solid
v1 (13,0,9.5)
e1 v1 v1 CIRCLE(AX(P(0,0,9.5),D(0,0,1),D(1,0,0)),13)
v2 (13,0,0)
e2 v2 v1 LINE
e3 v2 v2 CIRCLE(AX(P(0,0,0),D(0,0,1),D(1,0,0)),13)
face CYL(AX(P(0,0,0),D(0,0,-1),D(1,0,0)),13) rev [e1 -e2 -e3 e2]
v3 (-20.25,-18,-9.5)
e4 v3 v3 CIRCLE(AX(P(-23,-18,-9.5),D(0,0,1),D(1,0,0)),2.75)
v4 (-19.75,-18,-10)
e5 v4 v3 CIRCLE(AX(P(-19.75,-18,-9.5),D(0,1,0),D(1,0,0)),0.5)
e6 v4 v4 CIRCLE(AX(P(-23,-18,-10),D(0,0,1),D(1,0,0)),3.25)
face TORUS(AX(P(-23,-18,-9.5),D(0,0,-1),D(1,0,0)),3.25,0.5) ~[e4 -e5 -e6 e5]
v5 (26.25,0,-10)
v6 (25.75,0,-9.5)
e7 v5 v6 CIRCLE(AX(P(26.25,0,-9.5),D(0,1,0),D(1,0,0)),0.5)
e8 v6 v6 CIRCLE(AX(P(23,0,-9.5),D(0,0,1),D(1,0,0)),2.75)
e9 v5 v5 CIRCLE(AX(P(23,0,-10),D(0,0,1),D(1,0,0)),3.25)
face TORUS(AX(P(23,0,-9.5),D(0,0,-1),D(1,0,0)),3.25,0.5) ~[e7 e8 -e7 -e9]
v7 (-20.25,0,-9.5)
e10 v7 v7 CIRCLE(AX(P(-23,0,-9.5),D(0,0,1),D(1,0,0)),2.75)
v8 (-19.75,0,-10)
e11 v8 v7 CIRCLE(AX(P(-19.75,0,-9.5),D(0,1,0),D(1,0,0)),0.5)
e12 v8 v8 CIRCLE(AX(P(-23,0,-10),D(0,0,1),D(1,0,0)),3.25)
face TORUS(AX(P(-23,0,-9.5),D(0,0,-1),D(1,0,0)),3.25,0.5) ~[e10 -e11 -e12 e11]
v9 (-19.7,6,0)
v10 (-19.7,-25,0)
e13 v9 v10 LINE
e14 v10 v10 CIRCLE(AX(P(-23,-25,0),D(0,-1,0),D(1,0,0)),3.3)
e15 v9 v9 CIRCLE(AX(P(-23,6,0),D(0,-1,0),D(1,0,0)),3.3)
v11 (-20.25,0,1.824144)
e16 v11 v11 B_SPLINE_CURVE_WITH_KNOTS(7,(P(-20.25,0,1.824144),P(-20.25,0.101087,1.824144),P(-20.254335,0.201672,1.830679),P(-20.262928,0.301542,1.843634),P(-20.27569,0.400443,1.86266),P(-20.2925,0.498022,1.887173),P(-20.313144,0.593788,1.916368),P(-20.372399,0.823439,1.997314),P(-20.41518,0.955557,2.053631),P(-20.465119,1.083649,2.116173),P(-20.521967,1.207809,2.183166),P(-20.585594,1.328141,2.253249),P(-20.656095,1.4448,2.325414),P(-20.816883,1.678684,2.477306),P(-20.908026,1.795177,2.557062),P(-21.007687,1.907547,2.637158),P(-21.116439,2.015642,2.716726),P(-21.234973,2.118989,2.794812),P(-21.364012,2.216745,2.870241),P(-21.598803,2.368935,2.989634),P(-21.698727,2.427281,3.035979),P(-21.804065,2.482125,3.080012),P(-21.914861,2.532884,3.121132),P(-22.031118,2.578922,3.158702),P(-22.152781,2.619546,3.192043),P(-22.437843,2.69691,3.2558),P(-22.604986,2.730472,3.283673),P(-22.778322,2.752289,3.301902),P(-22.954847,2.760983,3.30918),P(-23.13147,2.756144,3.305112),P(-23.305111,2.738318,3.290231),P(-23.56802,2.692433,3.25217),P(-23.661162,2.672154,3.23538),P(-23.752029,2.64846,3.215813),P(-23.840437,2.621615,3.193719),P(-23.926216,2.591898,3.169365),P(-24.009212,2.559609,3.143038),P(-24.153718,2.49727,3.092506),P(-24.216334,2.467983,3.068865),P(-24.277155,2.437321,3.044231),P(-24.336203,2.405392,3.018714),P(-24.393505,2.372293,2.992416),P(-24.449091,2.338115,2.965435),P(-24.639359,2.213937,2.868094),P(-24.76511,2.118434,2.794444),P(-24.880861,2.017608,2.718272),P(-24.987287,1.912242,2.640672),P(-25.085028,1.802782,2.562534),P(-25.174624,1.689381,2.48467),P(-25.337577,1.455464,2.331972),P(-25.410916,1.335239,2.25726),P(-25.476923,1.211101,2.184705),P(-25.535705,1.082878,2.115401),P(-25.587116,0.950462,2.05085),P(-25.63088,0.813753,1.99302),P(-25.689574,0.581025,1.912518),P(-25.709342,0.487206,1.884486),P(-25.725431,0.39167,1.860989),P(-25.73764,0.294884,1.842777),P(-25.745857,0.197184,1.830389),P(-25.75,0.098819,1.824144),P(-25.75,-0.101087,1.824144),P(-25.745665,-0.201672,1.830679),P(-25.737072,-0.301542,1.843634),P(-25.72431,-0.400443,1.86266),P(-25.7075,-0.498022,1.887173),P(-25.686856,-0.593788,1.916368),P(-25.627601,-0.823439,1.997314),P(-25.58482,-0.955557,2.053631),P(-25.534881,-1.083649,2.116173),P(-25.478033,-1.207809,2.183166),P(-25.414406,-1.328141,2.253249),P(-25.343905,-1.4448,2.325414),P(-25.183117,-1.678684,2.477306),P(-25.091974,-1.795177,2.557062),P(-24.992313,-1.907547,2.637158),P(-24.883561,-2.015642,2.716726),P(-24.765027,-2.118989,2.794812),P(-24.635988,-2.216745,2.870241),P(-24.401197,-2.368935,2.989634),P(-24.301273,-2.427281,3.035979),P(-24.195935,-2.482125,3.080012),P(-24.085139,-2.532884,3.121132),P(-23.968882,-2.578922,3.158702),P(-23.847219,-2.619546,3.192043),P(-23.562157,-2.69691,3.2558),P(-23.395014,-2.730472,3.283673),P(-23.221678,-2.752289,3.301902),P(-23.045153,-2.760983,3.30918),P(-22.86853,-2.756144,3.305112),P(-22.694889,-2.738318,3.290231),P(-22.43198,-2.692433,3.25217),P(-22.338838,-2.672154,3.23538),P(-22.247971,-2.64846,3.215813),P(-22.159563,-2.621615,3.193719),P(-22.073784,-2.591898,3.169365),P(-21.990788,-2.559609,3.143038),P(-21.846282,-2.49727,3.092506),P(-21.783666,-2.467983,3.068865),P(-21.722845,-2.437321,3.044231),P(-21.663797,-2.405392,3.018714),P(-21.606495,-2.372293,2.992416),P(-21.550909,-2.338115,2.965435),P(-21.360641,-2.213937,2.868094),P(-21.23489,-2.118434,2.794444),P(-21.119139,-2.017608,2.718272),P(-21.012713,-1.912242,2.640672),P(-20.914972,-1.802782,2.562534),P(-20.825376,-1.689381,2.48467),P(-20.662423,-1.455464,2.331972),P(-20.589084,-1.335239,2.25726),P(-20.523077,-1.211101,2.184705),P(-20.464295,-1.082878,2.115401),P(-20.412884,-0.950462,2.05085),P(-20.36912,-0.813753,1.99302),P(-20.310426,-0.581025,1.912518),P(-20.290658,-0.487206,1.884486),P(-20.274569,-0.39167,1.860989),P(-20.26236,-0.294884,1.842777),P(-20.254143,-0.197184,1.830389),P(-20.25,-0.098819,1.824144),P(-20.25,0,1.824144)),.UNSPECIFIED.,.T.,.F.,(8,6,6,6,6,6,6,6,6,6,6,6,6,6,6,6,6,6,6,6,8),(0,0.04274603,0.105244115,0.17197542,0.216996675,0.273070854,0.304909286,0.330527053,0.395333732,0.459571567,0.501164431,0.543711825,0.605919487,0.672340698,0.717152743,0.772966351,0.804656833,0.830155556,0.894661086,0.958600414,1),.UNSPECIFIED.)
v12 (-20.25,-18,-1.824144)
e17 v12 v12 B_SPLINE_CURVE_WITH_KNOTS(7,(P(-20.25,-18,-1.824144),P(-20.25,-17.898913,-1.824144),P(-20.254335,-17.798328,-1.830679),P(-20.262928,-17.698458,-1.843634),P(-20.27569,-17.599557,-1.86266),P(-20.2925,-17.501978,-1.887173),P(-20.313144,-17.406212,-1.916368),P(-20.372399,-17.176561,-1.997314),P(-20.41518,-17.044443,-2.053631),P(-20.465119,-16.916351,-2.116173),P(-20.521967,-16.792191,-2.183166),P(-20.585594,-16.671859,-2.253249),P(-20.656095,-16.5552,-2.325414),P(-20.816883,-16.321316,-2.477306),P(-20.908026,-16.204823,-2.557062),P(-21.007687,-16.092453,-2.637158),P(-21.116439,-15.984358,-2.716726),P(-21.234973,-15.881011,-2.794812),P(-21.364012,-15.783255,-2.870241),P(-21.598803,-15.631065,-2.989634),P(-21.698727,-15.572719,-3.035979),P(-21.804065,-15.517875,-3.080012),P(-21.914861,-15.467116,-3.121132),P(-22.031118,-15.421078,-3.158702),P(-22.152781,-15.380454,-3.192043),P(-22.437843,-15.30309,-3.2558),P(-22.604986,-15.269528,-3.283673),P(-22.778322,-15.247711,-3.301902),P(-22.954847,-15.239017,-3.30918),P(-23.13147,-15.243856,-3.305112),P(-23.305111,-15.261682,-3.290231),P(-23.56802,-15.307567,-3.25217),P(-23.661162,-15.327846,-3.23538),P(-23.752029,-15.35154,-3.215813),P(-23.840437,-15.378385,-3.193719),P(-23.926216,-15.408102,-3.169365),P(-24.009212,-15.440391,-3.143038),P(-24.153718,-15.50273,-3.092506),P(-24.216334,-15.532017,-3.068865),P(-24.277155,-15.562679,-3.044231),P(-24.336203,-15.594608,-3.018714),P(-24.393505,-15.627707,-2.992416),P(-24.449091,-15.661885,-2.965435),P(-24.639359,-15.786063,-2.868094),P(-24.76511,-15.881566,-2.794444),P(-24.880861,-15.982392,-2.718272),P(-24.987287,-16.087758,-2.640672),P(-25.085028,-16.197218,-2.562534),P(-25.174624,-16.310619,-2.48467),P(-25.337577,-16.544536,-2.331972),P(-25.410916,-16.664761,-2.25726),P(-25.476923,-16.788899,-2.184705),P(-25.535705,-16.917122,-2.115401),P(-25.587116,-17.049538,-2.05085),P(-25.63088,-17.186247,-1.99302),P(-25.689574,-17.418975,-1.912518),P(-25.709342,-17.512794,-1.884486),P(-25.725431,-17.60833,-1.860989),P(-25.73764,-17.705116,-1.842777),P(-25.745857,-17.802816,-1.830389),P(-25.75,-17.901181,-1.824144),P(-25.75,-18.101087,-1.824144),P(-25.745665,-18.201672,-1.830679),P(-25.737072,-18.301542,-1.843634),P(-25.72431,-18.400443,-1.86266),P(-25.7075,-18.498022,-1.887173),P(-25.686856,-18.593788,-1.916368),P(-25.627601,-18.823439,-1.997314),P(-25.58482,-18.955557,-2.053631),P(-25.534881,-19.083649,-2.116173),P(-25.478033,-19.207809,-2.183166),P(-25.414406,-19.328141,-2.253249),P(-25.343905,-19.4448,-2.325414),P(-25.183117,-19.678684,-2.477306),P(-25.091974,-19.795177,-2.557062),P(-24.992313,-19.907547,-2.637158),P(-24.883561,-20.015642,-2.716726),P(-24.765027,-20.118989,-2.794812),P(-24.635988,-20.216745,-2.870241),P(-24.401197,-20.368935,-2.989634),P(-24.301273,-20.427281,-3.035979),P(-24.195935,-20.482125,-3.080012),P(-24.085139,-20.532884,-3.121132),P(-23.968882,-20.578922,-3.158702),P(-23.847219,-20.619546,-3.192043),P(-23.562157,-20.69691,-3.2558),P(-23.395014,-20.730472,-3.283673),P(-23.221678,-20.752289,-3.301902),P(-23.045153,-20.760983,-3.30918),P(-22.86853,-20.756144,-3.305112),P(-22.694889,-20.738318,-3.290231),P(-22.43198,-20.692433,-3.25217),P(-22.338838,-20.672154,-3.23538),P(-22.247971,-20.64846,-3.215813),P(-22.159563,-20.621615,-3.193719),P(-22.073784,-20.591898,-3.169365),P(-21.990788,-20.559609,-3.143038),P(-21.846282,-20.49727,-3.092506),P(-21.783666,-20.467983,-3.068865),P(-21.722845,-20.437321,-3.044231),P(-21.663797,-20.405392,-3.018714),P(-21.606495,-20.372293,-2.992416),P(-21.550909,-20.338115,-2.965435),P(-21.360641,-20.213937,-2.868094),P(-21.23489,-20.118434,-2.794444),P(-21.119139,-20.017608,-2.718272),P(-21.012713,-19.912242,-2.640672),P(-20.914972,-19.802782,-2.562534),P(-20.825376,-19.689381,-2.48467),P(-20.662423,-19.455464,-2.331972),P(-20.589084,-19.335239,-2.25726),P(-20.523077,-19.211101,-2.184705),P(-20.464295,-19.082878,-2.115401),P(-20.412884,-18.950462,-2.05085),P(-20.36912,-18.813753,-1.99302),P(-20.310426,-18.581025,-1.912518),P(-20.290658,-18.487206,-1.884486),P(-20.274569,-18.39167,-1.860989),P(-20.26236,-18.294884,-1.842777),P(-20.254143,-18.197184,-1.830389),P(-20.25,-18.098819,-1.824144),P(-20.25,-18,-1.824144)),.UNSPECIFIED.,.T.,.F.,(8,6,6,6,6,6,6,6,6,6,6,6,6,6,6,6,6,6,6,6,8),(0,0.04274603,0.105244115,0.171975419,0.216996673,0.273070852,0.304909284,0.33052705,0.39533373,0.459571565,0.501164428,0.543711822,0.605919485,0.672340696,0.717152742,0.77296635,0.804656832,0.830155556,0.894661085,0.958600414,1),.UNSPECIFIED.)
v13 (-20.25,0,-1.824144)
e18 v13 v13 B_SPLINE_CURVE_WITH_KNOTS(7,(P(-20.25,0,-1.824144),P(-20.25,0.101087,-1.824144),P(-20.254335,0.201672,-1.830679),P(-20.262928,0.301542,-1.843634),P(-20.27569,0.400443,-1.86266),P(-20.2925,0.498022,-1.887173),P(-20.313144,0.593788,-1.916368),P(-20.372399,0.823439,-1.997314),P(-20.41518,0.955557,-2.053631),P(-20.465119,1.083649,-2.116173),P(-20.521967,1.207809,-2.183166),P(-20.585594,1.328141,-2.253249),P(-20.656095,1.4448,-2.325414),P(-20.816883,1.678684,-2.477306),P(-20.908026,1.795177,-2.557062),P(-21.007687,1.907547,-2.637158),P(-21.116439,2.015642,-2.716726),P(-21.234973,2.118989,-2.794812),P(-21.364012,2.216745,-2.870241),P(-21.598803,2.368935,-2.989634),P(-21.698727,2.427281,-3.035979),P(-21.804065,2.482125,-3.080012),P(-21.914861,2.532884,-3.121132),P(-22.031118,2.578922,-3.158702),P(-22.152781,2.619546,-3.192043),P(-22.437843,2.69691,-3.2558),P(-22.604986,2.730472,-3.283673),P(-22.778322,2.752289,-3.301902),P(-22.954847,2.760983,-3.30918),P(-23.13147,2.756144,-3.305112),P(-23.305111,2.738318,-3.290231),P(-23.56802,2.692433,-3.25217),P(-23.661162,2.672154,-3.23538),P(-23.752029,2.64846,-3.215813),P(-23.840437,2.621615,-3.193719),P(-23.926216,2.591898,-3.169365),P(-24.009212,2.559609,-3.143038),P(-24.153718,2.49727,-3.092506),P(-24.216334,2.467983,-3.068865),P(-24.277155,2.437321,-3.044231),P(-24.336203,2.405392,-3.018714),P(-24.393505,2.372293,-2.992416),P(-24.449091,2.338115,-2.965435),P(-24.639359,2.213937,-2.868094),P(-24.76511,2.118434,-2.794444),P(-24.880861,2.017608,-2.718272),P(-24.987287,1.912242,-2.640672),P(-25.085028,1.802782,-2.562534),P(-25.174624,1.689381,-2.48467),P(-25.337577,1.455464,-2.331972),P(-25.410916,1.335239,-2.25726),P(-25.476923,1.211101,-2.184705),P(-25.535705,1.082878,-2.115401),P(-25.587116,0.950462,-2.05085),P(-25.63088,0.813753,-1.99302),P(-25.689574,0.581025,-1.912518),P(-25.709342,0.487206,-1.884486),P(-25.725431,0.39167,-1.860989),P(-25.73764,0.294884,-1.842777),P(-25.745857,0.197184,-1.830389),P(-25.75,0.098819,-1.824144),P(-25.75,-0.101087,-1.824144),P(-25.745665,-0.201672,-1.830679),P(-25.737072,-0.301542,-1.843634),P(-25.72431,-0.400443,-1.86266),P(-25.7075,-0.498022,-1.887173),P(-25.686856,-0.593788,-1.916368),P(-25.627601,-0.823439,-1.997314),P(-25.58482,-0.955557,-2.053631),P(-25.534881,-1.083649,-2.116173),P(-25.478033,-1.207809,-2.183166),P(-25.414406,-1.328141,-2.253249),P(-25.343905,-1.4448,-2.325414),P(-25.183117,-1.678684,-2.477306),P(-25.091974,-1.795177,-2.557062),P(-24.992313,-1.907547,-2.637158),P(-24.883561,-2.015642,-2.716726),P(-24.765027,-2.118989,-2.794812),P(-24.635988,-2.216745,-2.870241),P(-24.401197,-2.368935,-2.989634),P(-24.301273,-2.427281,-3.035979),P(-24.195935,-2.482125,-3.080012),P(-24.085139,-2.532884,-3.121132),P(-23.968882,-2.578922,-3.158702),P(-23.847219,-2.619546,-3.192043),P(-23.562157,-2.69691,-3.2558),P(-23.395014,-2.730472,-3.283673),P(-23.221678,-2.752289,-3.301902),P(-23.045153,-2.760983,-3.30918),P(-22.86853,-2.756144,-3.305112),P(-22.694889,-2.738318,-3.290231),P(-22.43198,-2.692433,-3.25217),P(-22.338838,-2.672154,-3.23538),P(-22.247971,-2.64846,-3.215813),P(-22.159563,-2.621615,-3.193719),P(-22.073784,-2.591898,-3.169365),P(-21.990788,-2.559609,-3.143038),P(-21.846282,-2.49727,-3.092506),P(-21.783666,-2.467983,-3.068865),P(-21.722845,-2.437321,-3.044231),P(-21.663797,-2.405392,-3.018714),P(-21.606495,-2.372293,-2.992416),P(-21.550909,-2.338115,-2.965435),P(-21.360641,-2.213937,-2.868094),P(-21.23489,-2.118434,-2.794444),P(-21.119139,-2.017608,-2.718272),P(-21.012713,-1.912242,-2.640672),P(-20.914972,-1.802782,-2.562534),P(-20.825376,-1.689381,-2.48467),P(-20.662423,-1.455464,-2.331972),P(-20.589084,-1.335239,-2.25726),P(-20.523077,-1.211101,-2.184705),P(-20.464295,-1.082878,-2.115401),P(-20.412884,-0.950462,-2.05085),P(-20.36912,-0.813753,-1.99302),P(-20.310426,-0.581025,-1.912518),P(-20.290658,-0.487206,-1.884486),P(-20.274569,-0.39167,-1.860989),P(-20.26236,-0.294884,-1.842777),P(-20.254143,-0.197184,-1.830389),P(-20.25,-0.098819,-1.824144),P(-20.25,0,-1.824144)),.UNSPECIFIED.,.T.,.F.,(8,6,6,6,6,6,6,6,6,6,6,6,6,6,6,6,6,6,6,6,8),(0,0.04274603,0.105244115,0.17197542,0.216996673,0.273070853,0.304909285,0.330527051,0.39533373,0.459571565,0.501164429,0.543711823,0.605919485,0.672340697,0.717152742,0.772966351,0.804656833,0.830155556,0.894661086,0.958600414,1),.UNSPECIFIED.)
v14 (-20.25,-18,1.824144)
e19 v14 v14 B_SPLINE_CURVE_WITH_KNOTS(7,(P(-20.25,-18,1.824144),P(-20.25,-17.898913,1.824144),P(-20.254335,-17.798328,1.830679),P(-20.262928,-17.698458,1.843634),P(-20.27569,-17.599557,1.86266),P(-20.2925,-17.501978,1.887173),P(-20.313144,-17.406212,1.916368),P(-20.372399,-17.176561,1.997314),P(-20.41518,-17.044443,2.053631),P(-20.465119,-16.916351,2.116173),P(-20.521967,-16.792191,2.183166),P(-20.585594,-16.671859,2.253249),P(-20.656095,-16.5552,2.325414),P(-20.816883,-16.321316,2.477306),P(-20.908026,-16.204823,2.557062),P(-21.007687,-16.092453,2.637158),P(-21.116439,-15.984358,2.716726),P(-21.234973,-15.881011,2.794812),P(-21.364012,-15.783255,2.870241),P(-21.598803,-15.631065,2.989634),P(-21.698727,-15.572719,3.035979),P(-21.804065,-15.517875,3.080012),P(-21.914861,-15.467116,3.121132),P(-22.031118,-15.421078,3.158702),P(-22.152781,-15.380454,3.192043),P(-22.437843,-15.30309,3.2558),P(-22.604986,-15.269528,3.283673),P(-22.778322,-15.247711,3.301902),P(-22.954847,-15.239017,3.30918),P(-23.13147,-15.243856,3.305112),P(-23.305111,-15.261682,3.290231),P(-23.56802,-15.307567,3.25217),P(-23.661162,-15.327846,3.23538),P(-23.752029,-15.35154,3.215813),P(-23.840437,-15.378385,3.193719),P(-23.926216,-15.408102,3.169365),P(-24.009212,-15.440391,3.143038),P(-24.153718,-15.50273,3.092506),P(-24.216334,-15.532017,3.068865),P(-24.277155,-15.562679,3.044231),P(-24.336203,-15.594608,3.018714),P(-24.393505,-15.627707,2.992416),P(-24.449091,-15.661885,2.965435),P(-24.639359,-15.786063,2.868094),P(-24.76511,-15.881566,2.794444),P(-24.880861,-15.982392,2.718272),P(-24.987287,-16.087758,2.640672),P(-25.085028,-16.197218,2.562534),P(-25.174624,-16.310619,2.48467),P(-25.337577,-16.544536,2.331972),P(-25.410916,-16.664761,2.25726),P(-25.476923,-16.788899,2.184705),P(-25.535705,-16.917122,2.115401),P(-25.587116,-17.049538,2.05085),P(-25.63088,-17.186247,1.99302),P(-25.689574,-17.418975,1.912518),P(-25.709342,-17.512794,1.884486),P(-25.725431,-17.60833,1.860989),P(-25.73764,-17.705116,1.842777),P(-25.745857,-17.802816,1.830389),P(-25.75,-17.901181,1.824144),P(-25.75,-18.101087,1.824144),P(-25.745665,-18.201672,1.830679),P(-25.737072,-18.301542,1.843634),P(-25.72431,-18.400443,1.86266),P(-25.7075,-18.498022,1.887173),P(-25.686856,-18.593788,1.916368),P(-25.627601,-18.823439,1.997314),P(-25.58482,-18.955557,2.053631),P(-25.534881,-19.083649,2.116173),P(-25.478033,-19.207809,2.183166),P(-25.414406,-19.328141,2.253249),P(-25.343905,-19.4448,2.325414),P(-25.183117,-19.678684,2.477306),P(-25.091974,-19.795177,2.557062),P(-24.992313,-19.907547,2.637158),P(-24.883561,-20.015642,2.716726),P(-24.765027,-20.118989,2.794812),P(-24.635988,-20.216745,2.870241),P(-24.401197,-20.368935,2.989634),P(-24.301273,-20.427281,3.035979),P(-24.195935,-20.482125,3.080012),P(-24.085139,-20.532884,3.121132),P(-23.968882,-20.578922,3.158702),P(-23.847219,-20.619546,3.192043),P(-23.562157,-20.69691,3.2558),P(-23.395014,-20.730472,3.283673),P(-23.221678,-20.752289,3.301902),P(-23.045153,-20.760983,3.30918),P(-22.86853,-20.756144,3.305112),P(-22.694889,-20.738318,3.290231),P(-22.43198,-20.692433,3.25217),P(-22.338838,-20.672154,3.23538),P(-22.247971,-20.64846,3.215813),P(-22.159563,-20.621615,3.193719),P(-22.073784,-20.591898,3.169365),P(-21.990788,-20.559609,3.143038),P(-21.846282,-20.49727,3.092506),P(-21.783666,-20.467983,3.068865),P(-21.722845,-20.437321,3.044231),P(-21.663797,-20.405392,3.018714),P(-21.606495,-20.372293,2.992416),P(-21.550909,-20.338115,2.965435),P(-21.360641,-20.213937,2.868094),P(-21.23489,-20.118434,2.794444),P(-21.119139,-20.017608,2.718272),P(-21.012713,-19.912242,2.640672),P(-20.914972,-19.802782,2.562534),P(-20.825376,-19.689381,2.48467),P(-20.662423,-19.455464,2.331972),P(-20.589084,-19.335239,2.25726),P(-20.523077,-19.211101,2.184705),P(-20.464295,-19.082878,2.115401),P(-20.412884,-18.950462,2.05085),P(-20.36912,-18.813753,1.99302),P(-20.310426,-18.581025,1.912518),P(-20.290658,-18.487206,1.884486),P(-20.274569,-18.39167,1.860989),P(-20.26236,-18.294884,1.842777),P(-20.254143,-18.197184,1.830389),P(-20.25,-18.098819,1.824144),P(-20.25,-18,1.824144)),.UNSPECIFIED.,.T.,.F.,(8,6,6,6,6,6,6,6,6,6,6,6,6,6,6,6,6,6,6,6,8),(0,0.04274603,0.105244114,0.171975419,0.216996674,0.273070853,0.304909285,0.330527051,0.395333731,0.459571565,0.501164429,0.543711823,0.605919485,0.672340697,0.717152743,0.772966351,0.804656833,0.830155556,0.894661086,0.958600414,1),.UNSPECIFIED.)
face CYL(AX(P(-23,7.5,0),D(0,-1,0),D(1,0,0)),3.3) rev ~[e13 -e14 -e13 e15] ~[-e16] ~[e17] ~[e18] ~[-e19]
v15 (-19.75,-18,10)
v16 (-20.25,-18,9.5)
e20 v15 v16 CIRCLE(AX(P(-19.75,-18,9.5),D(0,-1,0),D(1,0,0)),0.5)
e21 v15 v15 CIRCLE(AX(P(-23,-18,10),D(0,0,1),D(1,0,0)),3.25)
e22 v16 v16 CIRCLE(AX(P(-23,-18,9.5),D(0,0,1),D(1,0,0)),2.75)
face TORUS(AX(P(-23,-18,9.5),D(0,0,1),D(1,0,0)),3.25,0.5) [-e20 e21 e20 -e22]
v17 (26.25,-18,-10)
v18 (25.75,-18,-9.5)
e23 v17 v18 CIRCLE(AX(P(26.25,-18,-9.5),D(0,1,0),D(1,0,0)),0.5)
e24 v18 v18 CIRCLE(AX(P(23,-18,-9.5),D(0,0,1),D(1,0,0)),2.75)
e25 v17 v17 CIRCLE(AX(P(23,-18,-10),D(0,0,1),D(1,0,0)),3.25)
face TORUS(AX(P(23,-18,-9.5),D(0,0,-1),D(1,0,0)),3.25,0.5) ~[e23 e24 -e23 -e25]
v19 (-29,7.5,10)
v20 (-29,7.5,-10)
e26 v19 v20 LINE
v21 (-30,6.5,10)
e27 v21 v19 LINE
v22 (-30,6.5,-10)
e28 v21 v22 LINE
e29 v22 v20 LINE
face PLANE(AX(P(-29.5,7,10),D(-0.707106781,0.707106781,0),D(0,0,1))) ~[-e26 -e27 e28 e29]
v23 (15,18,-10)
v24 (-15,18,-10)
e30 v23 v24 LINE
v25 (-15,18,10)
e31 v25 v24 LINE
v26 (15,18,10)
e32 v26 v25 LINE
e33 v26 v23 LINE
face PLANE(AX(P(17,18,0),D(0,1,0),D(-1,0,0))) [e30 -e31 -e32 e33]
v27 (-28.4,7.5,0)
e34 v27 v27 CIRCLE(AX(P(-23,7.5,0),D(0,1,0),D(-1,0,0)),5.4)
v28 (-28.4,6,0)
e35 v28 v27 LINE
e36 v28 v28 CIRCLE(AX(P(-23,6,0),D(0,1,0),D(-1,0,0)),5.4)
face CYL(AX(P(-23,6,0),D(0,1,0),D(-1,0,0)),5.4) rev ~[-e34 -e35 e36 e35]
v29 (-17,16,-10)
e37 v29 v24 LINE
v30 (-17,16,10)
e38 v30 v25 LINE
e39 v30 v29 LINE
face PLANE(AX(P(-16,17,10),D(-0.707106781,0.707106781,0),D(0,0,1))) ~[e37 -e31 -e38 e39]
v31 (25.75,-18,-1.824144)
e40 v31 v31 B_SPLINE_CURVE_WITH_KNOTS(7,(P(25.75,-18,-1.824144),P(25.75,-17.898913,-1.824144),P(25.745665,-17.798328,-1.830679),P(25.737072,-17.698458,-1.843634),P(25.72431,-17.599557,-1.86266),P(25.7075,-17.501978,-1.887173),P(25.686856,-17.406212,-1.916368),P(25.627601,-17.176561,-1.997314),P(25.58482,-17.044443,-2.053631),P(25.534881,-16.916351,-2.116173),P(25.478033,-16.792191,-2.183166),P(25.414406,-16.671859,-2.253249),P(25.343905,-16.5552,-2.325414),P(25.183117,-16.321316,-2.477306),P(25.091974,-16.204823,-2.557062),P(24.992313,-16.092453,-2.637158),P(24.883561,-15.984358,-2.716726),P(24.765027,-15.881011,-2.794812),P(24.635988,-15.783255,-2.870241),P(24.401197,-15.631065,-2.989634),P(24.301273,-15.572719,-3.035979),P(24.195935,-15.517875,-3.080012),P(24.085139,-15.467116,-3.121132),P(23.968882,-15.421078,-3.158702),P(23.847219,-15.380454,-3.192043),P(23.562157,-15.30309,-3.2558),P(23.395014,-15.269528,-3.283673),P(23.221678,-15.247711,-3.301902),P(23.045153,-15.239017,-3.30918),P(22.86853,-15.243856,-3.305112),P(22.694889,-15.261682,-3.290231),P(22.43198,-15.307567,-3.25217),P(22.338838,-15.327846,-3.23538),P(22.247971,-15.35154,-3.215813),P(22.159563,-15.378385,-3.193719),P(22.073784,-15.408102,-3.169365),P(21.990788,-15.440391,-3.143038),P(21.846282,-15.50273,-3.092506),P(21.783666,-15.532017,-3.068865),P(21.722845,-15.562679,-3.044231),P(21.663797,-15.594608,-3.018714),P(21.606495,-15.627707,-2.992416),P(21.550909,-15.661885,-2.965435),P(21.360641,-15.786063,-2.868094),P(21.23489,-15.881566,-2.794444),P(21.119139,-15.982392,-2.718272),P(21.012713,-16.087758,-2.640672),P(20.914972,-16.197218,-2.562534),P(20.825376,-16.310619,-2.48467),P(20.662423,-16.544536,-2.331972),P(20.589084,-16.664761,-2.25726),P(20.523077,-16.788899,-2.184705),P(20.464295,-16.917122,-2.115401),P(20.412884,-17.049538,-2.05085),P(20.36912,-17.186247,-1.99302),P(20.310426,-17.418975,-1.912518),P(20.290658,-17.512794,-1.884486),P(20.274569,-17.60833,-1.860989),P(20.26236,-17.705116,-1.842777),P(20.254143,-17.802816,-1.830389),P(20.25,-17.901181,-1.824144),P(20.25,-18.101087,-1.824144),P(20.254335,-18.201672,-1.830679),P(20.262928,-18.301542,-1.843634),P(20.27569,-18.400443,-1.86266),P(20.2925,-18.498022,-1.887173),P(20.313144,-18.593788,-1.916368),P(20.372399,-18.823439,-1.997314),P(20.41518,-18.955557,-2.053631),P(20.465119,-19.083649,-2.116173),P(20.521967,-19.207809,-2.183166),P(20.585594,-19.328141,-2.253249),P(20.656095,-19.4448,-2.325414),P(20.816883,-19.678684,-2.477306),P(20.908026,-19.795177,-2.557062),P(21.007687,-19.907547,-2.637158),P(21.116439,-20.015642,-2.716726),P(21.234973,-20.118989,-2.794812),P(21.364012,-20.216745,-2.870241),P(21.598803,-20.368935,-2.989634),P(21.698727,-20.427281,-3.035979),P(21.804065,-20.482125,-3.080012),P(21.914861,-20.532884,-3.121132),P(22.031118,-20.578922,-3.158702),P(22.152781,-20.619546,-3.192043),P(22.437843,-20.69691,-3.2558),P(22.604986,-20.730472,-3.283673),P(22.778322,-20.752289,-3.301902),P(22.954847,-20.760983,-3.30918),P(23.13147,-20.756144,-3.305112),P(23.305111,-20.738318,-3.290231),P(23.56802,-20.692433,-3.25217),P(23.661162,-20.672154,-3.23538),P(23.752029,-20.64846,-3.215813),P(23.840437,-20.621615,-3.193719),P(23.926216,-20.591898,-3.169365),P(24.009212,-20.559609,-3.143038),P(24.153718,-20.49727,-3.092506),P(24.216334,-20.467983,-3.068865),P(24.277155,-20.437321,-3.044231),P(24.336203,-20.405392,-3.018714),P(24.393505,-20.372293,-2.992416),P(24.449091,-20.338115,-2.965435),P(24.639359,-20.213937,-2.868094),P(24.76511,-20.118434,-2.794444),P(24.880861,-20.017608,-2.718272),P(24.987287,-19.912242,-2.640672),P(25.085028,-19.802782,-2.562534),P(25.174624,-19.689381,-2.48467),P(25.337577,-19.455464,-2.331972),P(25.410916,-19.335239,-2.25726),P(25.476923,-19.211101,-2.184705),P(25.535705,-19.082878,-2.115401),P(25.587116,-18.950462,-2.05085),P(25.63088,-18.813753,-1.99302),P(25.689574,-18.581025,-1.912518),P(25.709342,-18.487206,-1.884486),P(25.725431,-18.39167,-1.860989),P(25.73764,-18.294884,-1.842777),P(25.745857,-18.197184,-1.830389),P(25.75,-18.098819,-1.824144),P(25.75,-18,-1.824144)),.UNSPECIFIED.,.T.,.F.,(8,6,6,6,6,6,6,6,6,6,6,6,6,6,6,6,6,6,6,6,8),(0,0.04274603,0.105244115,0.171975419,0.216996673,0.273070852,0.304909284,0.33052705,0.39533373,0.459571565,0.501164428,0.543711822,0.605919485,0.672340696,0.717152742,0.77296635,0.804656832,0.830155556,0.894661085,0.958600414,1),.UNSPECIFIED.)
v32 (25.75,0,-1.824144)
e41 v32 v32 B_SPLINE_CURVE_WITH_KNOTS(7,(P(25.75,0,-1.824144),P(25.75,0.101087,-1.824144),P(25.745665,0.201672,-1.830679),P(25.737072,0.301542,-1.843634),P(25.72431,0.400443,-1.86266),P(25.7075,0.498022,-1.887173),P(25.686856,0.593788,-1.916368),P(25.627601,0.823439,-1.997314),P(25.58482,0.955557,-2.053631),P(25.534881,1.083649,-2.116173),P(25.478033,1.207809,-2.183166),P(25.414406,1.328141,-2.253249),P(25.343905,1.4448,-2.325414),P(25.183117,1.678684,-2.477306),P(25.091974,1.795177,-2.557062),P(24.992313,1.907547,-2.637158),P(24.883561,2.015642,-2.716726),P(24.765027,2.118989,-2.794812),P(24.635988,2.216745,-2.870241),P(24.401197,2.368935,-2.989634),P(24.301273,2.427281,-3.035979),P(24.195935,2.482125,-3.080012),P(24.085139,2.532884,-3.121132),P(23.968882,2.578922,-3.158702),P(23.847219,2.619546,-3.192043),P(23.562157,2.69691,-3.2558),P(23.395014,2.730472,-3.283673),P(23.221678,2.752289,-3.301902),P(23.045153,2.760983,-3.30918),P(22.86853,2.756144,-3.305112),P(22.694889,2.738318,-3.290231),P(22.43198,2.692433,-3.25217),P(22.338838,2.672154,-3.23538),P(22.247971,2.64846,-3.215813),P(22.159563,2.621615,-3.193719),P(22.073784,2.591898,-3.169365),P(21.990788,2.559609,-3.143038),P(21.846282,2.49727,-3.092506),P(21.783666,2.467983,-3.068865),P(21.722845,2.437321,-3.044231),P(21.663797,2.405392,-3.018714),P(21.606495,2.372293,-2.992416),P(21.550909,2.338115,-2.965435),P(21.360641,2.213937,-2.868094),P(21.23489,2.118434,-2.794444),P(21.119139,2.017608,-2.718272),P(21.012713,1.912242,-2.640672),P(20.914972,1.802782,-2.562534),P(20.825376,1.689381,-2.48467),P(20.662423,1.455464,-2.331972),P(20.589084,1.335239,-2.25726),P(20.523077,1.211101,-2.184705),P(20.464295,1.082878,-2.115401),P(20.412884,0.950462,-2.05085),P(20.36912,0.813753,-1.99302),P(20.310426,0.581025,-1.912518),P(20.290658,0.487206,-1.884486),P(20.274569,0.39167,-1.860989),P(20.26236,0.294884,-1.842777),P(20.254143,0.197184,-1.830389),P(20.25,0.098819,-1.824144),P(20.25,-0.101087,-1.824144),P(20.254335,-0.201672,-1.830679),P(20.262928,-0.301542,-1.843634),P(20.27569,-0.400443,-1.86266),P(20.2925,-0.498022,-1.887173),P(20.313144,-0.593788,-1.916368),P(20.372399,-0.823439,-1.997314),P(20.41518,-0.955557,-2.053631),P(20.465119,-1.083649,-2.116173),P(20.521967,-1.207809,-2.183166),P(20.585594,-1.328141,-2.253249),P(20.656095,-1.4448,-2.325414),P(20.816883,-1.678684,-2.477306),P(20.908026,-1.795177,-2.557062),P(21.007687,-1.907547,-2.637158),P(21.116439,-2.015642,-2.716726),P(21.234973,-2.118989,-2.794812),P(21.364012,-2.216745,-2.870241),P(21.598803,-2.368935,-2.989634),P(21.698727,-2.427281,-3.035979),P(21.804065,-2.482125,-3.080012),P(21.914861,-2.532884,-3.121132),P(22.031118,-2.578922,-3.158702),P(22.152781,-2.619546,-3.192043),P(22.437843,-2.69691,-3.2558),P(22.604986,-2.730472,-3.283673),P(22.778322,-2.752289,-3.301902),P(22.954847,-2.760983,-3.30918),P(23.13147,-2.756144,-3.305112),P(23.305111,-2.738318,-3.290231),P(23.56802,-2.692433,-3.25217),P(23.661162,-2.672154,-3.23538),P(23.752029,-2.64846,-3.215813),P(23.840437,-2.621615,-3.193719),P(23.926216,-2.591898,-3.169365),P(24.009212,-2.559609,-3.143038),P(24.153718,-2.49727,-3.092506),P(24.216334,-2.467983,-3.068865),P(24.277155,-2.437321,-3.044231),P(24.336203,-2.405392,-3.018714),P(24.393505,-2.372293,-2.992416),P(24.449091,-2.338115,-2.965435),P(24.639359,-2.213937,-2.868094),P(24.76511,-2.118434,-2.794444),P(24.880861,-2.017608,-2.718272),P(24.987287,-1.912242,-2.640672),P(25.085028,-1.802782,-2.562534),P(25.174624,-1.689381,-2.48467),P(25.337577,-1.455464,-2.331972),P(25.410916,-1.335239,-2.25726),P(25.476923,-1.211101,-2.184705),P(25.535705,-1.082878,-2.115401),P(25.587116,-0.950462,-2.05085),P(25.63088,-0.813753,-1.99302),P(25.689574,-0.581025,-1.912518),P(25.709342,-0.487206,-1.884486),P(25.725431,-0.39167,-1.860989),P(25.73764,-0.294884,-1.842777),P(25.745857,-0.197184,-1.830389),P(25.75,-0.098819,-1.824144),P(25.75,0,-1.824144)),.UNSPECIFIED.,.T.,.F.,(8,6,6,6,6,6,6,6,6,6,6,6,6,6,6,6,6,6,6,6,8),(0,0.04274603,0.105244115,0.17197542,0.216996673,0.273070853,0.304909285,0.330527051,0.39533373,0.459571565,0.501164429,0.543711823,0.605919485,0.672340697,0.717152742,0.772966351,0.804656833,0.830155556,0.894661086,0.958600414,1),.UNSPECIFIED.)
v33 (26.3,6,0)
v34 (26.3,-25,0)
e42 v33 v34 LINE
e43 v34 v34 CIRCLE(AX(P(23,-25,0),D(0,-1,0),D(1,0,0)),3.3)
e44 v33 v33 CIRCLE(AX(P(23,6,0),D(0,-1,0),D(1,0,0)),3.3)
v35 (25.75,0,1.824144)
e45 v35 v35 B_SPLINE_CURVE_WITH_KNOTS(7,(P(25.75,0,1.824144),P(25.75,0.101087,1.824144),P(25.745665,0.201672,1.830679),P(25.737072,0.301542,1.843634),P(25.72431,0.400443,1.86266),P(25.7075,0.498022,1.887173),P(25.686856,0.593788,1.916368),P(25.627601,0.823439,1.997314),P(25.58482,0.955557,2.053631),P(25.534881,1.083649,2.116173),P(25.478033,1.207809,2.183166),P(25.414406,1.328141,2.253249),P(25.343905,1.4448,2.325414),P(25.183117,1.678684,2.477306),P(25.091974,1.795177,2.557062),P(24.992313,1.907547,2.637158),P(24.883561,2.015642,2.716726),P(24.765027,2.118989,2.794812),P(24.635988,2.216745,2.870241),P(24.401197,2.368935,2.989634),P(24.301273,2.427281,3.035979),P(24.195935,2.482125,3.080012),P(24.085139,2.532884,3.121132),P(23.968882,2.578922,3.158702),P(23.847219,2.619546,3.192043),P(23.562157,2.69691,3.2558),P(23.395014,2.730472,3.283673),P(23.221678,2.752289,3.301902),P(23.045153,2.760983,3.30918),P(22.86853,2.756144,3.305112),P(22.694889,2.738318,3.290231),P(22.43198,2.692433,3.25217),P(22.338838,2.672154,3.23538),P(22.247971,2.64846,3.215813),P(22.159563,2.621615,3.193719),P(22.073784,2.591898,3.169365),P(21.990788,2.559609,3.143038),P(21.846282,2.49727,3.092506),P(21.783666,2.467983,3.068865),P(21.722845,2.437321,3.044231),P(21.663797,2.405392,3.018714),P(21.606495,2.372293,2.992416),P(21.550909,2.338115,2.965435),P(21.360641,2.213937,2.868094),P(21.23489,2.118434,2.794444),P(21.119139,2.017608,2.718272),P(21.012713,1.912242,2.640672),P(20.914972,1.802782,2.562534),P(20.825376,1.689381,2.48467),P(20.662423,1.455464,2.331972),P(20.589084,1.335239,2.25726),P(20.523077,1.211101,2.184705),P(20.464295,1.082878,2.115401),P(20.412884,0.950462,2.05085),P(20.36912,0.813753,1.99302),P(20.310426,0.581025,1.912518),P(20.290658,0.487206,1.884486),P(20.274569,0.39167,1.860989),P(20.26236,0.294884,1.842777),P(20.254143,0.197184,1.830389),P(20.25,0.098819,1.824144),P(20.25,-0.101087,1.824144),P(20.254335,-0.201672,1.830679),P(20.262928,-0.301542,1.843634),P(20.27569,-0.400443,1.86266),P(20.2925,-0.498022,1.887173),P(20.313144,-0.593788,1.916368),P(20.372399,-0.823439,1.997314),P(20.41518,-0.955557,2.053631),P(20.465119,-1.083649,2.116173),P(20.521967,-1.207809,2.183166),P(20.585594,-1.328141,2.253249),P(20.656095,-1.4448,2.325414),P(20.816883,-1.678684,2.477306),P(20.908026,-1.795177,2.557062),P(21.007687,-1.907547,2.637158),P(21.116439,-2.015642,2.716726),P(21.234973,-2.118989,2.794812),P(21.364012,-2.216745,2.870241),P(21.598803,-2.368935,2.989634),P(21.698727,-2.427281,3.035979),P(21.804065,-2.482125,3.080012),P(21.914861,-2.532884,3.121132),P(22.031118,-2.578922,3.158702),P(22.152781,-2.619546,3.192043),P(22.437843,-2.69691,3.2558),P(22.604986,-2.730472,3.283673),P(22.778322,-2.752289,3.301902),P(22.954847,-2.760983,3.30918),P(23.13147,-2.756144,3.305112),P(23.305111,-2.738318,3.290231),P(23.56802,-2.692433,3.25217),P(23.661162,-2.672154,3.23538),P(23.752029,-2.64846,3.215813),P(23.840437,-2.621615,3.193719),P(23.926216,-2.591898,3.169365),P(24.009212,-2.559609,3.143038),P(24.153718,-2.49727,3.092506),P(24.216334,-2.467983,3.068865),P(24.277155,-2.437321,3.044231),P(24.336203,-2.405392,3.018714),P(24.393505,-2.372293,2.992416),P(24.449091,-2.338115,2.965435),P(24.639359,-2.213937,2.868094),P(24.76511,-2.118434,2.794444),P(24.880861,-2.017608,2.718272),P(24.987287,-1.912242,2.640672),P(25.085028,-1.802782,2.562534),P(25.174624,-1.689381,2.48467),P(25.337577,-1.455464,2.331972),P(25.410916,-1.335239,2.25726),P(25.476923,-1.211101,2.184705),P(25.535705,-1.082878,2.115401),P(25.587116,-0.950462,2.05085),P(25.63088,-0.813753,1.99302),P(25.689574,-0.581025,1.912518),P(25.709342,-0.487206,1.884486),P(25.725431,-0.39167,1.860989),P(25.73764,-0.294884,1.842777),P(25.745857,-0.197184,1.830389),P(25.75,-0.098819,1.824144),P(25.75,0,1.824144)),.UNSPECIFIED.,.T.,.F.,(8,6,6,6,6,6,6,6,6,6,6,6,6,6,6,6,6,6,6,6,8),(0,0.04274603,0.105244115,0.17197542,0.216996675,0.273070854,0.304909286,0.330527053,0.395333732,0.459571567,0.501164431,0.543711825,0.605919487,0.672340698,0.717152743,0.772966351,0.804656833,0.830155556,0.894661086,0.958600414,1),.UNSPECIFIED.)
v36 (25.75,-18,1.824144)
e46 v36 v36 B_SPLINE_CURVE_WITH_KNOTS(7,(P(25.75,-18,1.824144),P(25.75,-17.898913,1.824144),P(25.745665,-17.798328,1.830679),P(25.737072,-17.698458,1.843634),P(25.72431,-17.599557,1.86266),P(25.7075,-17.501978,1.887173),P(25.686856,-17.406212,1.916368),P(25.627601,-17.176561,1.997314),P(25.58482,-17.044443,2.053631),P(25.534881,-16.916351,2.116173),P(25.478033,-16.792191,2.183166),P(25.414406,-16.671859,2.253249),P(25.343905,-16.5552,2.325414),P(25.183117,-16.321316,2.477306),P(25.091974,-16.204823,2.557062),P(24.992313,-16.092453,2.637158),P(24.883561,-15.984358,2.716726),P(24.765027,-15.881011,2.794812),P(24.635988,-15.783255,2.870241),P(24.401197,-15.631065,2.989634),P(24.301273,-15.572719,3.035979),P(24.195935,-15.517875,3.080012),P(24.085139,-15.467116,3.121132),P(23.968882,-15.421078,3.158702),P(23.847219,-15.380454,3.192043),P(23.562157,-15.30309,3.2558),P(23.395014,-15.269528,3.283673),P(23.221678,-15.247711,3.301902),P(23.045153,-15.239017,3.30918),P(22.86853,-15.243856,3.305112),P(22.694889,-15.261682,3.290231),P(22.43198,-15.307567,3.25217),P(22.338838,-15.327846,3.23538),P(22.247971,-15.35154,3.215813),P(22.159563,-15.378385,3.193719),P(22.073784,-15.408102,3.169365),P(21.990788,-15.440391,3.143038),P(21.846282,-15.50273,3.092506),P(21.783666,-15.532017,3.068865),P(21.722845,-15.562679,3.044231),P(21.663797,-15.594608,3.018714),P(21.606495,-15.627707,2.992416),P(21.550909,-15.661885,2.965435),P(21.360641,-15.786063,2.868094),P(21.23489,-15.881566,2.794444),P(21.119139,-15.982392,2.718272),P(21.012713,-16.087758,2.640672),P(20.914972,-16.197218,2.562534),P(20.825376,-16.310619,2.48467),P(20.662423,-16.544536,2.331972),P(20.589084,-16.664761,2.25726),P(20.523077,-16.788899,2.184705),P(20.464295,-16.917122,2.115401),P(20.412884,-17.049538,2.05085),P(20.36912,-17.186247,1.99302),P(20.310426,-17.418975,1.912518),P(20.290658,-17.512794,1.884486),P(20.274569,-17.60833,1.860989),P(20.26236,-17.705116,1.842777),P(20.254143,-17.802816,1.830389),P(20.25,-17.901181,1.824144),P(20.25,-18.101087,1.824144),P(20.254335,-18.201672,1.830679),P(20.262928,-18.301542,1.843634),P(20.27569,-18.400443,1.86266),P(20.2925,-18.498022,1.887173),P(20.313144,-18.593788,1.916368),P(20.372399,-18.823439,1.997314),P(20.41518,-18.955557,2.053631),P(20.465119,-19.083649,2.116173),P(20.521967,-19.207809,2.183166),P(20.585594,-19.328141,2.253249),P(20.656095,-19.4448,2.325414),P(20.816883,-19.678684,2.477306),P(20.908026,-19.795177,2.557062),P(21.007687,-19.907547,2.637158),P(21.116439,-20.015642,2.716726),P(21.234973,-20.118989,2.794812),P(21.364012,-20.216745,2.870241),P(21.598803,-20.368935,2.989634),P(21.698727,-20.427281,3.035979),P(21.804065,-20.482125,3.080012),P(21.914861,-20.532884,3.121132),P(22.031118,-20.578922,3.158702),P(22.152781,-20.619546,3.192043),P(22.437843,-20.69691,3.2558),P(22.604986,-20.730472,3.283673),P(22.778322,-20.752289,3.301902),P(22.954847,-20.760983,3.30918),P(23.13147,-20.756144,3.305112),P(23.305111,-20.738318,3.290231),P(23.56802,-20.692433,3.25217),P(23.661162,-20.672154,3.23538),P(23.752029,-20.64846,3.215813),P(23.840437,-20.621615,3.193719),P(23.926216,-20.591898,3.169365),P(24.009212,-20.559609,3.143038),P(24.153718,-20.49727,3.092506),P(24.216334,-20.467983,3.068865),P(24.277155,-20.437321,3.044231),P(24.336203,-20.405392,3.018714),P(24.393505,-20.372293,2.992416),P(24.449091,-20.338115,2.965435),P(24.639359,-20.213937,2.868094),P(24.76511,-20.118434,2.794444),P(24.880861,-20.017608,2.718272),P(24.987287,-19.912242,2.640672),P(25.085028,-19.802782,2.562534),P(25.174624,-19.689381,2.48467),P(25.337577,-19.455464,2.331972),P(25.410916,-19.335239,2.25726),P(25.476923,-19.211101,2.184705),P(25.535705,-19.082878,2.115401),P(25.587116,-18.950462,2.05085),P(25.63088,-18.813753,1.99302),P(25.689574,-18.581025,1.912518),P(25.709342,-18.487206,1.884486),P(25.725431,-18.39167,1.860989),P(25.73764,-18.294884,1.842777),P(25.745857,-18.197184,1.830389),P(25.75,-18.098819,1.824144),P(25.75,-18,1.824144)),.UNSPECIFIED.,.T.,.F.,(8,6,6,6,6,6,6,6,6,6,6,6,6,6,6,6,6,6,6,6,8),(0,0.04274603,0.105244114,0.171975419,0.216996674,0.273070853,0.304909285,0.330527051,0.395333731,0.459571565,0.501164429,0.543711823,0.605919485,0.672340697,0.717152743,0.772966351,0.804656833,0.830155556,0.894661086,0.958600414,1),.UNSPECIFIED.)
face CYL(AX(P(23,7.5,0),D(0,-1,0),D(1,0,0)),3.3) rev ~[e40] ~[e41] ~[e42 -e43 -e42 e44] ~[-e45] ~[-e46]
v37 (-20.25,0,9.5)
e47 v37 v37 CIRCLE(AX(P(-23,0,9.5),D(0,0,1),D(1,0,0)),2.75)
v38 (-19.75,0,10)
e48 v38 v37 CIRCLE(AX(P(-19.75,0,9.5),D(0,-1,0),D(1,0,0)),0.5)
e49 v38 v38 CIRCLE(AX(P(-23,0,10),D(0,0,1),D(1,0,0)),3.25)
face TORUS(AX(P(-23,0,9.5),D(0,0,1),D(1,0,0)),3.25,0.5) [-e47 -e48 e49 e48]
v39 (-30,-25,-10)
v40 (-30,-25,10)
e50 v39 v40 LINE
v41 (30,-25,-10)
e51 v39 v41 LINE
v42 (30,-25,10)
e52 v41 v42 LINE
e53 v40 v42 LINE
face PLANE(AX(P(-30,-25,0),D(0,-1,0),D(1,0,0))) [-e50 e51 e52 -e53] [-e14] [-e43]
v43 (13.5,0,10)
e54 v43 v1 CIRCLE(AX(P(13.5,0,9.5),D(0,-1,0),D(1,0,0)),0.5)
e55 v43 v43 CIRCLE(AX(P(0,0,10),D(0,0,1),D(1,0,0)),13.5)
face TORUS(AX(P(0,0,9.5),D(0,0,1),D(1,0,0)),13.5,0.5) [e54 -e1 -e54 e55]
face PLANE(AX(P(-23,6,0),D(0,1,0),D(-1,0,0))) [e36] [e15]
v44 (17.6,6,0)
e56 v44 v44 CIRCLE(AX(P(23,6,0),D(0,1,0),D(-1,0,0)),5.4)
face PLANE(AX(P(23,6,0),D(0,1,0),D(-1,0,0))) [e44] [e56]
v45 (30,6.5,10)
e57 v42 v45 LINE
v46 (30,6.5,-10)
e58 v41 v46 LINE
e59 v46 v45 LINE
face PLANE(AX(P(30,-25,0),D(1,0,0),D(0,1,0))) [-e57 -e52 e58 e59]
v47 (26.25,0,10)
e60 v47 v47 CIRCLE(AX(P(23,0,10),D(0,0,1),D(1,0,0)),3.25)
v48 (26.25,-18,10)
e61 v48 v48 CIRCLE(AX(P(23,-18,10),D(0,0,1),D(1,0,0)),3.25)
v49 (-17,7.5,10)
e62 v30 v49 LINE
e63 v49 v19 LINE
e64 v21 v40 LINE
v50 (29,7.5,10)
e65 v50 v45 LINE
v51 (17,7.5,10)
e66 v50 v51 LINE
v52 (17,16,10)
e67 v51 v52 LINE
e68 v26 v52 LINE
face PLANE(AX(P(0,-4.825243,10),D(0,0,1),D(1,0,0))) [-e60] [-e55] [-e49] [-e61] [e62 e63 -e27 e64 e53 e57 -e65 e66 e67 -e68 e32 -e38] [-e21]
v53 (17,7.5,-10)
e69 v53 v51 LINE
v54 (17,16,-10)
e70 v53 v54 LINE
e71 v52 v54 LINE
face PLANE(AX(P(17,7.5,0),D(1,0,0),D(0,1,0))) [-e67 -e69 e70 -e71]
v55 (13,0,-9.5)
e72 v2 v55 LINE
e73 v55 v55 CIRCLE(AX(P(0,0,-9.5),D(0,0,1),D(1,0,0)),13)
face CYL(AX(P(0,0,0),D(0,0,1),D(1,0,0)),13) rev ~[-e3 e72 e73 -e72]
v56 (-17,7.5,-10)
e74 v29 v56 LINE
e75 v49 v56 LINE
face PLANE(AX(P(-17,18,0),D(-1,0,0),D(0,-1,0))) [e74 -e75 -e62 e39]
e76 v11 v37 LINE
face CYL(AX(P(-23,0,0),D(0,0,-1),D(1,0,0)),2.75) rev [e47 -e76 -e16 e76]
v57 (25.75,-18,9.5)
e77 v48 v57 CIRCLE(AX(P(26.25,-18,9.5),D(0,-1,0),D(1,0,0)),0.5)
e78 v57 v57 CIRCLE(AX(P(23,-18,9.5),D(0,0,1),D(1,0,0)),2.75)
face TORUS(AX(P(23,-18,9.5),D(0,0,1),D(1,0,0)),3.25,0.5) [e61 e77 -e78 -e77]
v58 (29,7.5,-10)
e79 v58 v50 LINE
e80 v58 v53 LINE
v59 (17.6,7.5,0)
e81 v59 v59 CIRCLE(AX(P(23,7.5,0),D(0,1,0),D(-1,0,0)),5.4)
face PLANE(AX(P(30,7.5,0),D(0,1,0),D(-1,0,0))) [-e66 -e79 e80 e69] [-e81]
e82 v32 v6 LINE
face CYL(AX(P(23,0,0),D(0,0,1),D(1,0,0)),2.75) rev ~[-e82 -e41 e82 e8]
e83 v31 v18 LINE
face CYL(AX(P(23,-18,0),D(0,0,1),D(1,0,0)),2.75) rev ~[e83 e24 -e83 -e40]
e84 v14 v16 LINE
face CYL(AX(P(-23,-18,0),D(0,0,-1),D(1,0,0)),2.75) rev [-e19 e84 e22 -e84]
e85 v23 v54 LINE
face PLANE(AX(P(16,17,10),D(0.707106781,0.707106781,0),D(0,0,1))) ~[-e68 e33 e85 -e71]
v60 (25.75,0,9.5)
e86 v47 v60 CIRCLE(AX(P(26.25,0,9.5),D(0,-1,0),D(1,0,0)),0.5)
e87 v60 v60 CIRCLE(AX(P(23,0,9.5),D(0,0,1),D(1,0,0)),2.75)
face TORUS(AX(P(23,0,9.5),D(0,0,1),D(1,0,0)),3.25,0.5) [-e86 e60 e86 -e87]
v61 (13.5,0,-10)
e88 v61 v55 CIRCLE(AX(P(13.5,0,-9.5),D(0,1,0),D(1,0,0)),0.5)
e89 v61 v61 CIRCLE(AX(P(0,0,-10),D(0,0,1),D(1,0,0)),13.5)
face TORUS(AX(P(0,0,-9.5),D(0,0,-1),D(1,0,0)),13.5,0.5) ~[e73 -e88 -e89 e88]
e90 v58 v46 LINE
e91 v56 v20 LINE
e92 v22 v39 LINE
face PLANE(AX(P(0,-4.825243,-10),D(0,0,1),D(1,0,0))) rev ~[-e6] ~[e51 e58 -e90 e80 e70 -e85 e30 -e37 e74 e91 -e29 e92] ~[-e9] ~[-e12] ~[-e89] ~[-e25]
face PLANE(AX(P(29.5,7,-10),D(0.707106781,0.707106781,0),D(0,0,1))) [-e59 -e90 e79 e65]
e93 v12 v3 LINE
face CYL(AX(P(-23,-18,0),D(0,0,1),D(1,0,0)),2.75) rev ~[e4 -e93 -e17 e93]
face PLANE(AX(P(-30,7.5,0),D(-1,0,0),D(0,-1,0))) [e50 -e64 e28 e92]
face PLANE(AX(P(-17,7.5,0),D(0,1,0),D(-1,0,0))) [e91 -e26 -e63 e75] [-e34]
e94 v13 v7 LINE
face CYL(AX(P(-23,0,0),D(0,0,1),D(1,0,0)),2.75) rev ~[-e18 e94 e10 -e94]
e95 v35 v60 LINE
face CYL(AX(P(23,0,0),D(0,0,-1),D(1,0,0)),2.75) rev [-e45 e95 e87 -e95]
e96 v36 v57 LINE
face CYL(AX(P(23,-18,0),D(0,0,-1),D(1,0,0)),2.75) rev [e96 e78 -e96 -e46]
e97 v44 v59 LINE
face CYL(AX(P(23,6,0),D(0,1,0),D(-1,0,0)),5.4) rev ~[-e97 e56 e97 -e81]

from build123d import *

# Parameters (mm, degrees)
F0_R           = 2.75
F0_R_2         = 13
F1_DEPTH       = 10
F1_DEPTH_BACK  = 10
F2_SIZE        = 1
F3_SIZE        = 2
F4_R           = 0.5
F7_D           = 6.6
F7_CBORE_D     = 10.8
F7_CBORE_DEPTH = 1.5


with BuildPart() as f1:
    # F0 (on Top) → F1 (new body, two sides)
    with BuildSketch(Plane.XY) as f1_sk:
        Polygon((-30, 7.5), (-30, -25), (30, -25), (30, 7.5), (17, 7.5), (17, 18), (-17, 18), (-17, 7.5), align=None)
        with Locations((-23, -18)):
            Circle(F0_R, mode=Mode.SUBTRACT)
        with Locations((23, -18)):
            Circle(F0_R, mode=Mode.SUBTRACT)
        with Locations((-23, 0)):
            Circle(F0_R, mode=Mode.SUBTRACT)
        Circle(F0_R_2, mode=Mode.SUBTRACT)
        with Locations((23, 0)):
            Circle(F0_R, mode=Mode.SUBTRACT)
    extrude(amount=F1_DEPTH)
    extrude(f1_sk.sketch, amount=-F1_DEPTH_BACK)

    # F2
    f2_edges = [f1.edges().sort_by_distance(p)[0] for p in [
        (30, 7.5, 0),
        (-30, 7.5, 0),
    ]]
    chamfer(f2_edges, length=F2_SIZE)

    # F3
    f3_edges = [f1.edges().sort_by_distance(p)[0] for p in [
        (17, 18, 0),
        (-17, 18, 0),
    ]]
    chamfer(f3_edges, length=F3_SIZE)

    # F4
    f4_edges = [f1.edges().sort_by_distance(p)[0] for p in [
        (-25.75, 0, 10),
        (-20.25, 0, 0),
        (-25.75, 0, -10),
        (20.25, 0, 10),
        (25.75, 0, 0),
        (20.25, 0, -10),
        (20.25, -18, 10),
        (25.75, -18, 0),
        (20.25, -18, -10),
        (-25.75, -18, 10),
        (-20.25, -18, 0),
        (-25.75, -18, -10),
        (-13, 0, 10),
        (13, 0, 0),
        (-13, 0, -10),
    ]]
    fillet(f4_edges, radius=F4_R)

    # F7 (through all)
    with Locations(Plane(origin=(0, 7.5, 0), x_dir=(-1, 0, 0), z_dir=(0, 1, 0))):
        with Locations((-23, 0), (23, 0)):
            CounterBoreHole(F7_D / 2, F7_CBORE_D / 2, F7_CBORE_DEPTH)


solid = f1.part
